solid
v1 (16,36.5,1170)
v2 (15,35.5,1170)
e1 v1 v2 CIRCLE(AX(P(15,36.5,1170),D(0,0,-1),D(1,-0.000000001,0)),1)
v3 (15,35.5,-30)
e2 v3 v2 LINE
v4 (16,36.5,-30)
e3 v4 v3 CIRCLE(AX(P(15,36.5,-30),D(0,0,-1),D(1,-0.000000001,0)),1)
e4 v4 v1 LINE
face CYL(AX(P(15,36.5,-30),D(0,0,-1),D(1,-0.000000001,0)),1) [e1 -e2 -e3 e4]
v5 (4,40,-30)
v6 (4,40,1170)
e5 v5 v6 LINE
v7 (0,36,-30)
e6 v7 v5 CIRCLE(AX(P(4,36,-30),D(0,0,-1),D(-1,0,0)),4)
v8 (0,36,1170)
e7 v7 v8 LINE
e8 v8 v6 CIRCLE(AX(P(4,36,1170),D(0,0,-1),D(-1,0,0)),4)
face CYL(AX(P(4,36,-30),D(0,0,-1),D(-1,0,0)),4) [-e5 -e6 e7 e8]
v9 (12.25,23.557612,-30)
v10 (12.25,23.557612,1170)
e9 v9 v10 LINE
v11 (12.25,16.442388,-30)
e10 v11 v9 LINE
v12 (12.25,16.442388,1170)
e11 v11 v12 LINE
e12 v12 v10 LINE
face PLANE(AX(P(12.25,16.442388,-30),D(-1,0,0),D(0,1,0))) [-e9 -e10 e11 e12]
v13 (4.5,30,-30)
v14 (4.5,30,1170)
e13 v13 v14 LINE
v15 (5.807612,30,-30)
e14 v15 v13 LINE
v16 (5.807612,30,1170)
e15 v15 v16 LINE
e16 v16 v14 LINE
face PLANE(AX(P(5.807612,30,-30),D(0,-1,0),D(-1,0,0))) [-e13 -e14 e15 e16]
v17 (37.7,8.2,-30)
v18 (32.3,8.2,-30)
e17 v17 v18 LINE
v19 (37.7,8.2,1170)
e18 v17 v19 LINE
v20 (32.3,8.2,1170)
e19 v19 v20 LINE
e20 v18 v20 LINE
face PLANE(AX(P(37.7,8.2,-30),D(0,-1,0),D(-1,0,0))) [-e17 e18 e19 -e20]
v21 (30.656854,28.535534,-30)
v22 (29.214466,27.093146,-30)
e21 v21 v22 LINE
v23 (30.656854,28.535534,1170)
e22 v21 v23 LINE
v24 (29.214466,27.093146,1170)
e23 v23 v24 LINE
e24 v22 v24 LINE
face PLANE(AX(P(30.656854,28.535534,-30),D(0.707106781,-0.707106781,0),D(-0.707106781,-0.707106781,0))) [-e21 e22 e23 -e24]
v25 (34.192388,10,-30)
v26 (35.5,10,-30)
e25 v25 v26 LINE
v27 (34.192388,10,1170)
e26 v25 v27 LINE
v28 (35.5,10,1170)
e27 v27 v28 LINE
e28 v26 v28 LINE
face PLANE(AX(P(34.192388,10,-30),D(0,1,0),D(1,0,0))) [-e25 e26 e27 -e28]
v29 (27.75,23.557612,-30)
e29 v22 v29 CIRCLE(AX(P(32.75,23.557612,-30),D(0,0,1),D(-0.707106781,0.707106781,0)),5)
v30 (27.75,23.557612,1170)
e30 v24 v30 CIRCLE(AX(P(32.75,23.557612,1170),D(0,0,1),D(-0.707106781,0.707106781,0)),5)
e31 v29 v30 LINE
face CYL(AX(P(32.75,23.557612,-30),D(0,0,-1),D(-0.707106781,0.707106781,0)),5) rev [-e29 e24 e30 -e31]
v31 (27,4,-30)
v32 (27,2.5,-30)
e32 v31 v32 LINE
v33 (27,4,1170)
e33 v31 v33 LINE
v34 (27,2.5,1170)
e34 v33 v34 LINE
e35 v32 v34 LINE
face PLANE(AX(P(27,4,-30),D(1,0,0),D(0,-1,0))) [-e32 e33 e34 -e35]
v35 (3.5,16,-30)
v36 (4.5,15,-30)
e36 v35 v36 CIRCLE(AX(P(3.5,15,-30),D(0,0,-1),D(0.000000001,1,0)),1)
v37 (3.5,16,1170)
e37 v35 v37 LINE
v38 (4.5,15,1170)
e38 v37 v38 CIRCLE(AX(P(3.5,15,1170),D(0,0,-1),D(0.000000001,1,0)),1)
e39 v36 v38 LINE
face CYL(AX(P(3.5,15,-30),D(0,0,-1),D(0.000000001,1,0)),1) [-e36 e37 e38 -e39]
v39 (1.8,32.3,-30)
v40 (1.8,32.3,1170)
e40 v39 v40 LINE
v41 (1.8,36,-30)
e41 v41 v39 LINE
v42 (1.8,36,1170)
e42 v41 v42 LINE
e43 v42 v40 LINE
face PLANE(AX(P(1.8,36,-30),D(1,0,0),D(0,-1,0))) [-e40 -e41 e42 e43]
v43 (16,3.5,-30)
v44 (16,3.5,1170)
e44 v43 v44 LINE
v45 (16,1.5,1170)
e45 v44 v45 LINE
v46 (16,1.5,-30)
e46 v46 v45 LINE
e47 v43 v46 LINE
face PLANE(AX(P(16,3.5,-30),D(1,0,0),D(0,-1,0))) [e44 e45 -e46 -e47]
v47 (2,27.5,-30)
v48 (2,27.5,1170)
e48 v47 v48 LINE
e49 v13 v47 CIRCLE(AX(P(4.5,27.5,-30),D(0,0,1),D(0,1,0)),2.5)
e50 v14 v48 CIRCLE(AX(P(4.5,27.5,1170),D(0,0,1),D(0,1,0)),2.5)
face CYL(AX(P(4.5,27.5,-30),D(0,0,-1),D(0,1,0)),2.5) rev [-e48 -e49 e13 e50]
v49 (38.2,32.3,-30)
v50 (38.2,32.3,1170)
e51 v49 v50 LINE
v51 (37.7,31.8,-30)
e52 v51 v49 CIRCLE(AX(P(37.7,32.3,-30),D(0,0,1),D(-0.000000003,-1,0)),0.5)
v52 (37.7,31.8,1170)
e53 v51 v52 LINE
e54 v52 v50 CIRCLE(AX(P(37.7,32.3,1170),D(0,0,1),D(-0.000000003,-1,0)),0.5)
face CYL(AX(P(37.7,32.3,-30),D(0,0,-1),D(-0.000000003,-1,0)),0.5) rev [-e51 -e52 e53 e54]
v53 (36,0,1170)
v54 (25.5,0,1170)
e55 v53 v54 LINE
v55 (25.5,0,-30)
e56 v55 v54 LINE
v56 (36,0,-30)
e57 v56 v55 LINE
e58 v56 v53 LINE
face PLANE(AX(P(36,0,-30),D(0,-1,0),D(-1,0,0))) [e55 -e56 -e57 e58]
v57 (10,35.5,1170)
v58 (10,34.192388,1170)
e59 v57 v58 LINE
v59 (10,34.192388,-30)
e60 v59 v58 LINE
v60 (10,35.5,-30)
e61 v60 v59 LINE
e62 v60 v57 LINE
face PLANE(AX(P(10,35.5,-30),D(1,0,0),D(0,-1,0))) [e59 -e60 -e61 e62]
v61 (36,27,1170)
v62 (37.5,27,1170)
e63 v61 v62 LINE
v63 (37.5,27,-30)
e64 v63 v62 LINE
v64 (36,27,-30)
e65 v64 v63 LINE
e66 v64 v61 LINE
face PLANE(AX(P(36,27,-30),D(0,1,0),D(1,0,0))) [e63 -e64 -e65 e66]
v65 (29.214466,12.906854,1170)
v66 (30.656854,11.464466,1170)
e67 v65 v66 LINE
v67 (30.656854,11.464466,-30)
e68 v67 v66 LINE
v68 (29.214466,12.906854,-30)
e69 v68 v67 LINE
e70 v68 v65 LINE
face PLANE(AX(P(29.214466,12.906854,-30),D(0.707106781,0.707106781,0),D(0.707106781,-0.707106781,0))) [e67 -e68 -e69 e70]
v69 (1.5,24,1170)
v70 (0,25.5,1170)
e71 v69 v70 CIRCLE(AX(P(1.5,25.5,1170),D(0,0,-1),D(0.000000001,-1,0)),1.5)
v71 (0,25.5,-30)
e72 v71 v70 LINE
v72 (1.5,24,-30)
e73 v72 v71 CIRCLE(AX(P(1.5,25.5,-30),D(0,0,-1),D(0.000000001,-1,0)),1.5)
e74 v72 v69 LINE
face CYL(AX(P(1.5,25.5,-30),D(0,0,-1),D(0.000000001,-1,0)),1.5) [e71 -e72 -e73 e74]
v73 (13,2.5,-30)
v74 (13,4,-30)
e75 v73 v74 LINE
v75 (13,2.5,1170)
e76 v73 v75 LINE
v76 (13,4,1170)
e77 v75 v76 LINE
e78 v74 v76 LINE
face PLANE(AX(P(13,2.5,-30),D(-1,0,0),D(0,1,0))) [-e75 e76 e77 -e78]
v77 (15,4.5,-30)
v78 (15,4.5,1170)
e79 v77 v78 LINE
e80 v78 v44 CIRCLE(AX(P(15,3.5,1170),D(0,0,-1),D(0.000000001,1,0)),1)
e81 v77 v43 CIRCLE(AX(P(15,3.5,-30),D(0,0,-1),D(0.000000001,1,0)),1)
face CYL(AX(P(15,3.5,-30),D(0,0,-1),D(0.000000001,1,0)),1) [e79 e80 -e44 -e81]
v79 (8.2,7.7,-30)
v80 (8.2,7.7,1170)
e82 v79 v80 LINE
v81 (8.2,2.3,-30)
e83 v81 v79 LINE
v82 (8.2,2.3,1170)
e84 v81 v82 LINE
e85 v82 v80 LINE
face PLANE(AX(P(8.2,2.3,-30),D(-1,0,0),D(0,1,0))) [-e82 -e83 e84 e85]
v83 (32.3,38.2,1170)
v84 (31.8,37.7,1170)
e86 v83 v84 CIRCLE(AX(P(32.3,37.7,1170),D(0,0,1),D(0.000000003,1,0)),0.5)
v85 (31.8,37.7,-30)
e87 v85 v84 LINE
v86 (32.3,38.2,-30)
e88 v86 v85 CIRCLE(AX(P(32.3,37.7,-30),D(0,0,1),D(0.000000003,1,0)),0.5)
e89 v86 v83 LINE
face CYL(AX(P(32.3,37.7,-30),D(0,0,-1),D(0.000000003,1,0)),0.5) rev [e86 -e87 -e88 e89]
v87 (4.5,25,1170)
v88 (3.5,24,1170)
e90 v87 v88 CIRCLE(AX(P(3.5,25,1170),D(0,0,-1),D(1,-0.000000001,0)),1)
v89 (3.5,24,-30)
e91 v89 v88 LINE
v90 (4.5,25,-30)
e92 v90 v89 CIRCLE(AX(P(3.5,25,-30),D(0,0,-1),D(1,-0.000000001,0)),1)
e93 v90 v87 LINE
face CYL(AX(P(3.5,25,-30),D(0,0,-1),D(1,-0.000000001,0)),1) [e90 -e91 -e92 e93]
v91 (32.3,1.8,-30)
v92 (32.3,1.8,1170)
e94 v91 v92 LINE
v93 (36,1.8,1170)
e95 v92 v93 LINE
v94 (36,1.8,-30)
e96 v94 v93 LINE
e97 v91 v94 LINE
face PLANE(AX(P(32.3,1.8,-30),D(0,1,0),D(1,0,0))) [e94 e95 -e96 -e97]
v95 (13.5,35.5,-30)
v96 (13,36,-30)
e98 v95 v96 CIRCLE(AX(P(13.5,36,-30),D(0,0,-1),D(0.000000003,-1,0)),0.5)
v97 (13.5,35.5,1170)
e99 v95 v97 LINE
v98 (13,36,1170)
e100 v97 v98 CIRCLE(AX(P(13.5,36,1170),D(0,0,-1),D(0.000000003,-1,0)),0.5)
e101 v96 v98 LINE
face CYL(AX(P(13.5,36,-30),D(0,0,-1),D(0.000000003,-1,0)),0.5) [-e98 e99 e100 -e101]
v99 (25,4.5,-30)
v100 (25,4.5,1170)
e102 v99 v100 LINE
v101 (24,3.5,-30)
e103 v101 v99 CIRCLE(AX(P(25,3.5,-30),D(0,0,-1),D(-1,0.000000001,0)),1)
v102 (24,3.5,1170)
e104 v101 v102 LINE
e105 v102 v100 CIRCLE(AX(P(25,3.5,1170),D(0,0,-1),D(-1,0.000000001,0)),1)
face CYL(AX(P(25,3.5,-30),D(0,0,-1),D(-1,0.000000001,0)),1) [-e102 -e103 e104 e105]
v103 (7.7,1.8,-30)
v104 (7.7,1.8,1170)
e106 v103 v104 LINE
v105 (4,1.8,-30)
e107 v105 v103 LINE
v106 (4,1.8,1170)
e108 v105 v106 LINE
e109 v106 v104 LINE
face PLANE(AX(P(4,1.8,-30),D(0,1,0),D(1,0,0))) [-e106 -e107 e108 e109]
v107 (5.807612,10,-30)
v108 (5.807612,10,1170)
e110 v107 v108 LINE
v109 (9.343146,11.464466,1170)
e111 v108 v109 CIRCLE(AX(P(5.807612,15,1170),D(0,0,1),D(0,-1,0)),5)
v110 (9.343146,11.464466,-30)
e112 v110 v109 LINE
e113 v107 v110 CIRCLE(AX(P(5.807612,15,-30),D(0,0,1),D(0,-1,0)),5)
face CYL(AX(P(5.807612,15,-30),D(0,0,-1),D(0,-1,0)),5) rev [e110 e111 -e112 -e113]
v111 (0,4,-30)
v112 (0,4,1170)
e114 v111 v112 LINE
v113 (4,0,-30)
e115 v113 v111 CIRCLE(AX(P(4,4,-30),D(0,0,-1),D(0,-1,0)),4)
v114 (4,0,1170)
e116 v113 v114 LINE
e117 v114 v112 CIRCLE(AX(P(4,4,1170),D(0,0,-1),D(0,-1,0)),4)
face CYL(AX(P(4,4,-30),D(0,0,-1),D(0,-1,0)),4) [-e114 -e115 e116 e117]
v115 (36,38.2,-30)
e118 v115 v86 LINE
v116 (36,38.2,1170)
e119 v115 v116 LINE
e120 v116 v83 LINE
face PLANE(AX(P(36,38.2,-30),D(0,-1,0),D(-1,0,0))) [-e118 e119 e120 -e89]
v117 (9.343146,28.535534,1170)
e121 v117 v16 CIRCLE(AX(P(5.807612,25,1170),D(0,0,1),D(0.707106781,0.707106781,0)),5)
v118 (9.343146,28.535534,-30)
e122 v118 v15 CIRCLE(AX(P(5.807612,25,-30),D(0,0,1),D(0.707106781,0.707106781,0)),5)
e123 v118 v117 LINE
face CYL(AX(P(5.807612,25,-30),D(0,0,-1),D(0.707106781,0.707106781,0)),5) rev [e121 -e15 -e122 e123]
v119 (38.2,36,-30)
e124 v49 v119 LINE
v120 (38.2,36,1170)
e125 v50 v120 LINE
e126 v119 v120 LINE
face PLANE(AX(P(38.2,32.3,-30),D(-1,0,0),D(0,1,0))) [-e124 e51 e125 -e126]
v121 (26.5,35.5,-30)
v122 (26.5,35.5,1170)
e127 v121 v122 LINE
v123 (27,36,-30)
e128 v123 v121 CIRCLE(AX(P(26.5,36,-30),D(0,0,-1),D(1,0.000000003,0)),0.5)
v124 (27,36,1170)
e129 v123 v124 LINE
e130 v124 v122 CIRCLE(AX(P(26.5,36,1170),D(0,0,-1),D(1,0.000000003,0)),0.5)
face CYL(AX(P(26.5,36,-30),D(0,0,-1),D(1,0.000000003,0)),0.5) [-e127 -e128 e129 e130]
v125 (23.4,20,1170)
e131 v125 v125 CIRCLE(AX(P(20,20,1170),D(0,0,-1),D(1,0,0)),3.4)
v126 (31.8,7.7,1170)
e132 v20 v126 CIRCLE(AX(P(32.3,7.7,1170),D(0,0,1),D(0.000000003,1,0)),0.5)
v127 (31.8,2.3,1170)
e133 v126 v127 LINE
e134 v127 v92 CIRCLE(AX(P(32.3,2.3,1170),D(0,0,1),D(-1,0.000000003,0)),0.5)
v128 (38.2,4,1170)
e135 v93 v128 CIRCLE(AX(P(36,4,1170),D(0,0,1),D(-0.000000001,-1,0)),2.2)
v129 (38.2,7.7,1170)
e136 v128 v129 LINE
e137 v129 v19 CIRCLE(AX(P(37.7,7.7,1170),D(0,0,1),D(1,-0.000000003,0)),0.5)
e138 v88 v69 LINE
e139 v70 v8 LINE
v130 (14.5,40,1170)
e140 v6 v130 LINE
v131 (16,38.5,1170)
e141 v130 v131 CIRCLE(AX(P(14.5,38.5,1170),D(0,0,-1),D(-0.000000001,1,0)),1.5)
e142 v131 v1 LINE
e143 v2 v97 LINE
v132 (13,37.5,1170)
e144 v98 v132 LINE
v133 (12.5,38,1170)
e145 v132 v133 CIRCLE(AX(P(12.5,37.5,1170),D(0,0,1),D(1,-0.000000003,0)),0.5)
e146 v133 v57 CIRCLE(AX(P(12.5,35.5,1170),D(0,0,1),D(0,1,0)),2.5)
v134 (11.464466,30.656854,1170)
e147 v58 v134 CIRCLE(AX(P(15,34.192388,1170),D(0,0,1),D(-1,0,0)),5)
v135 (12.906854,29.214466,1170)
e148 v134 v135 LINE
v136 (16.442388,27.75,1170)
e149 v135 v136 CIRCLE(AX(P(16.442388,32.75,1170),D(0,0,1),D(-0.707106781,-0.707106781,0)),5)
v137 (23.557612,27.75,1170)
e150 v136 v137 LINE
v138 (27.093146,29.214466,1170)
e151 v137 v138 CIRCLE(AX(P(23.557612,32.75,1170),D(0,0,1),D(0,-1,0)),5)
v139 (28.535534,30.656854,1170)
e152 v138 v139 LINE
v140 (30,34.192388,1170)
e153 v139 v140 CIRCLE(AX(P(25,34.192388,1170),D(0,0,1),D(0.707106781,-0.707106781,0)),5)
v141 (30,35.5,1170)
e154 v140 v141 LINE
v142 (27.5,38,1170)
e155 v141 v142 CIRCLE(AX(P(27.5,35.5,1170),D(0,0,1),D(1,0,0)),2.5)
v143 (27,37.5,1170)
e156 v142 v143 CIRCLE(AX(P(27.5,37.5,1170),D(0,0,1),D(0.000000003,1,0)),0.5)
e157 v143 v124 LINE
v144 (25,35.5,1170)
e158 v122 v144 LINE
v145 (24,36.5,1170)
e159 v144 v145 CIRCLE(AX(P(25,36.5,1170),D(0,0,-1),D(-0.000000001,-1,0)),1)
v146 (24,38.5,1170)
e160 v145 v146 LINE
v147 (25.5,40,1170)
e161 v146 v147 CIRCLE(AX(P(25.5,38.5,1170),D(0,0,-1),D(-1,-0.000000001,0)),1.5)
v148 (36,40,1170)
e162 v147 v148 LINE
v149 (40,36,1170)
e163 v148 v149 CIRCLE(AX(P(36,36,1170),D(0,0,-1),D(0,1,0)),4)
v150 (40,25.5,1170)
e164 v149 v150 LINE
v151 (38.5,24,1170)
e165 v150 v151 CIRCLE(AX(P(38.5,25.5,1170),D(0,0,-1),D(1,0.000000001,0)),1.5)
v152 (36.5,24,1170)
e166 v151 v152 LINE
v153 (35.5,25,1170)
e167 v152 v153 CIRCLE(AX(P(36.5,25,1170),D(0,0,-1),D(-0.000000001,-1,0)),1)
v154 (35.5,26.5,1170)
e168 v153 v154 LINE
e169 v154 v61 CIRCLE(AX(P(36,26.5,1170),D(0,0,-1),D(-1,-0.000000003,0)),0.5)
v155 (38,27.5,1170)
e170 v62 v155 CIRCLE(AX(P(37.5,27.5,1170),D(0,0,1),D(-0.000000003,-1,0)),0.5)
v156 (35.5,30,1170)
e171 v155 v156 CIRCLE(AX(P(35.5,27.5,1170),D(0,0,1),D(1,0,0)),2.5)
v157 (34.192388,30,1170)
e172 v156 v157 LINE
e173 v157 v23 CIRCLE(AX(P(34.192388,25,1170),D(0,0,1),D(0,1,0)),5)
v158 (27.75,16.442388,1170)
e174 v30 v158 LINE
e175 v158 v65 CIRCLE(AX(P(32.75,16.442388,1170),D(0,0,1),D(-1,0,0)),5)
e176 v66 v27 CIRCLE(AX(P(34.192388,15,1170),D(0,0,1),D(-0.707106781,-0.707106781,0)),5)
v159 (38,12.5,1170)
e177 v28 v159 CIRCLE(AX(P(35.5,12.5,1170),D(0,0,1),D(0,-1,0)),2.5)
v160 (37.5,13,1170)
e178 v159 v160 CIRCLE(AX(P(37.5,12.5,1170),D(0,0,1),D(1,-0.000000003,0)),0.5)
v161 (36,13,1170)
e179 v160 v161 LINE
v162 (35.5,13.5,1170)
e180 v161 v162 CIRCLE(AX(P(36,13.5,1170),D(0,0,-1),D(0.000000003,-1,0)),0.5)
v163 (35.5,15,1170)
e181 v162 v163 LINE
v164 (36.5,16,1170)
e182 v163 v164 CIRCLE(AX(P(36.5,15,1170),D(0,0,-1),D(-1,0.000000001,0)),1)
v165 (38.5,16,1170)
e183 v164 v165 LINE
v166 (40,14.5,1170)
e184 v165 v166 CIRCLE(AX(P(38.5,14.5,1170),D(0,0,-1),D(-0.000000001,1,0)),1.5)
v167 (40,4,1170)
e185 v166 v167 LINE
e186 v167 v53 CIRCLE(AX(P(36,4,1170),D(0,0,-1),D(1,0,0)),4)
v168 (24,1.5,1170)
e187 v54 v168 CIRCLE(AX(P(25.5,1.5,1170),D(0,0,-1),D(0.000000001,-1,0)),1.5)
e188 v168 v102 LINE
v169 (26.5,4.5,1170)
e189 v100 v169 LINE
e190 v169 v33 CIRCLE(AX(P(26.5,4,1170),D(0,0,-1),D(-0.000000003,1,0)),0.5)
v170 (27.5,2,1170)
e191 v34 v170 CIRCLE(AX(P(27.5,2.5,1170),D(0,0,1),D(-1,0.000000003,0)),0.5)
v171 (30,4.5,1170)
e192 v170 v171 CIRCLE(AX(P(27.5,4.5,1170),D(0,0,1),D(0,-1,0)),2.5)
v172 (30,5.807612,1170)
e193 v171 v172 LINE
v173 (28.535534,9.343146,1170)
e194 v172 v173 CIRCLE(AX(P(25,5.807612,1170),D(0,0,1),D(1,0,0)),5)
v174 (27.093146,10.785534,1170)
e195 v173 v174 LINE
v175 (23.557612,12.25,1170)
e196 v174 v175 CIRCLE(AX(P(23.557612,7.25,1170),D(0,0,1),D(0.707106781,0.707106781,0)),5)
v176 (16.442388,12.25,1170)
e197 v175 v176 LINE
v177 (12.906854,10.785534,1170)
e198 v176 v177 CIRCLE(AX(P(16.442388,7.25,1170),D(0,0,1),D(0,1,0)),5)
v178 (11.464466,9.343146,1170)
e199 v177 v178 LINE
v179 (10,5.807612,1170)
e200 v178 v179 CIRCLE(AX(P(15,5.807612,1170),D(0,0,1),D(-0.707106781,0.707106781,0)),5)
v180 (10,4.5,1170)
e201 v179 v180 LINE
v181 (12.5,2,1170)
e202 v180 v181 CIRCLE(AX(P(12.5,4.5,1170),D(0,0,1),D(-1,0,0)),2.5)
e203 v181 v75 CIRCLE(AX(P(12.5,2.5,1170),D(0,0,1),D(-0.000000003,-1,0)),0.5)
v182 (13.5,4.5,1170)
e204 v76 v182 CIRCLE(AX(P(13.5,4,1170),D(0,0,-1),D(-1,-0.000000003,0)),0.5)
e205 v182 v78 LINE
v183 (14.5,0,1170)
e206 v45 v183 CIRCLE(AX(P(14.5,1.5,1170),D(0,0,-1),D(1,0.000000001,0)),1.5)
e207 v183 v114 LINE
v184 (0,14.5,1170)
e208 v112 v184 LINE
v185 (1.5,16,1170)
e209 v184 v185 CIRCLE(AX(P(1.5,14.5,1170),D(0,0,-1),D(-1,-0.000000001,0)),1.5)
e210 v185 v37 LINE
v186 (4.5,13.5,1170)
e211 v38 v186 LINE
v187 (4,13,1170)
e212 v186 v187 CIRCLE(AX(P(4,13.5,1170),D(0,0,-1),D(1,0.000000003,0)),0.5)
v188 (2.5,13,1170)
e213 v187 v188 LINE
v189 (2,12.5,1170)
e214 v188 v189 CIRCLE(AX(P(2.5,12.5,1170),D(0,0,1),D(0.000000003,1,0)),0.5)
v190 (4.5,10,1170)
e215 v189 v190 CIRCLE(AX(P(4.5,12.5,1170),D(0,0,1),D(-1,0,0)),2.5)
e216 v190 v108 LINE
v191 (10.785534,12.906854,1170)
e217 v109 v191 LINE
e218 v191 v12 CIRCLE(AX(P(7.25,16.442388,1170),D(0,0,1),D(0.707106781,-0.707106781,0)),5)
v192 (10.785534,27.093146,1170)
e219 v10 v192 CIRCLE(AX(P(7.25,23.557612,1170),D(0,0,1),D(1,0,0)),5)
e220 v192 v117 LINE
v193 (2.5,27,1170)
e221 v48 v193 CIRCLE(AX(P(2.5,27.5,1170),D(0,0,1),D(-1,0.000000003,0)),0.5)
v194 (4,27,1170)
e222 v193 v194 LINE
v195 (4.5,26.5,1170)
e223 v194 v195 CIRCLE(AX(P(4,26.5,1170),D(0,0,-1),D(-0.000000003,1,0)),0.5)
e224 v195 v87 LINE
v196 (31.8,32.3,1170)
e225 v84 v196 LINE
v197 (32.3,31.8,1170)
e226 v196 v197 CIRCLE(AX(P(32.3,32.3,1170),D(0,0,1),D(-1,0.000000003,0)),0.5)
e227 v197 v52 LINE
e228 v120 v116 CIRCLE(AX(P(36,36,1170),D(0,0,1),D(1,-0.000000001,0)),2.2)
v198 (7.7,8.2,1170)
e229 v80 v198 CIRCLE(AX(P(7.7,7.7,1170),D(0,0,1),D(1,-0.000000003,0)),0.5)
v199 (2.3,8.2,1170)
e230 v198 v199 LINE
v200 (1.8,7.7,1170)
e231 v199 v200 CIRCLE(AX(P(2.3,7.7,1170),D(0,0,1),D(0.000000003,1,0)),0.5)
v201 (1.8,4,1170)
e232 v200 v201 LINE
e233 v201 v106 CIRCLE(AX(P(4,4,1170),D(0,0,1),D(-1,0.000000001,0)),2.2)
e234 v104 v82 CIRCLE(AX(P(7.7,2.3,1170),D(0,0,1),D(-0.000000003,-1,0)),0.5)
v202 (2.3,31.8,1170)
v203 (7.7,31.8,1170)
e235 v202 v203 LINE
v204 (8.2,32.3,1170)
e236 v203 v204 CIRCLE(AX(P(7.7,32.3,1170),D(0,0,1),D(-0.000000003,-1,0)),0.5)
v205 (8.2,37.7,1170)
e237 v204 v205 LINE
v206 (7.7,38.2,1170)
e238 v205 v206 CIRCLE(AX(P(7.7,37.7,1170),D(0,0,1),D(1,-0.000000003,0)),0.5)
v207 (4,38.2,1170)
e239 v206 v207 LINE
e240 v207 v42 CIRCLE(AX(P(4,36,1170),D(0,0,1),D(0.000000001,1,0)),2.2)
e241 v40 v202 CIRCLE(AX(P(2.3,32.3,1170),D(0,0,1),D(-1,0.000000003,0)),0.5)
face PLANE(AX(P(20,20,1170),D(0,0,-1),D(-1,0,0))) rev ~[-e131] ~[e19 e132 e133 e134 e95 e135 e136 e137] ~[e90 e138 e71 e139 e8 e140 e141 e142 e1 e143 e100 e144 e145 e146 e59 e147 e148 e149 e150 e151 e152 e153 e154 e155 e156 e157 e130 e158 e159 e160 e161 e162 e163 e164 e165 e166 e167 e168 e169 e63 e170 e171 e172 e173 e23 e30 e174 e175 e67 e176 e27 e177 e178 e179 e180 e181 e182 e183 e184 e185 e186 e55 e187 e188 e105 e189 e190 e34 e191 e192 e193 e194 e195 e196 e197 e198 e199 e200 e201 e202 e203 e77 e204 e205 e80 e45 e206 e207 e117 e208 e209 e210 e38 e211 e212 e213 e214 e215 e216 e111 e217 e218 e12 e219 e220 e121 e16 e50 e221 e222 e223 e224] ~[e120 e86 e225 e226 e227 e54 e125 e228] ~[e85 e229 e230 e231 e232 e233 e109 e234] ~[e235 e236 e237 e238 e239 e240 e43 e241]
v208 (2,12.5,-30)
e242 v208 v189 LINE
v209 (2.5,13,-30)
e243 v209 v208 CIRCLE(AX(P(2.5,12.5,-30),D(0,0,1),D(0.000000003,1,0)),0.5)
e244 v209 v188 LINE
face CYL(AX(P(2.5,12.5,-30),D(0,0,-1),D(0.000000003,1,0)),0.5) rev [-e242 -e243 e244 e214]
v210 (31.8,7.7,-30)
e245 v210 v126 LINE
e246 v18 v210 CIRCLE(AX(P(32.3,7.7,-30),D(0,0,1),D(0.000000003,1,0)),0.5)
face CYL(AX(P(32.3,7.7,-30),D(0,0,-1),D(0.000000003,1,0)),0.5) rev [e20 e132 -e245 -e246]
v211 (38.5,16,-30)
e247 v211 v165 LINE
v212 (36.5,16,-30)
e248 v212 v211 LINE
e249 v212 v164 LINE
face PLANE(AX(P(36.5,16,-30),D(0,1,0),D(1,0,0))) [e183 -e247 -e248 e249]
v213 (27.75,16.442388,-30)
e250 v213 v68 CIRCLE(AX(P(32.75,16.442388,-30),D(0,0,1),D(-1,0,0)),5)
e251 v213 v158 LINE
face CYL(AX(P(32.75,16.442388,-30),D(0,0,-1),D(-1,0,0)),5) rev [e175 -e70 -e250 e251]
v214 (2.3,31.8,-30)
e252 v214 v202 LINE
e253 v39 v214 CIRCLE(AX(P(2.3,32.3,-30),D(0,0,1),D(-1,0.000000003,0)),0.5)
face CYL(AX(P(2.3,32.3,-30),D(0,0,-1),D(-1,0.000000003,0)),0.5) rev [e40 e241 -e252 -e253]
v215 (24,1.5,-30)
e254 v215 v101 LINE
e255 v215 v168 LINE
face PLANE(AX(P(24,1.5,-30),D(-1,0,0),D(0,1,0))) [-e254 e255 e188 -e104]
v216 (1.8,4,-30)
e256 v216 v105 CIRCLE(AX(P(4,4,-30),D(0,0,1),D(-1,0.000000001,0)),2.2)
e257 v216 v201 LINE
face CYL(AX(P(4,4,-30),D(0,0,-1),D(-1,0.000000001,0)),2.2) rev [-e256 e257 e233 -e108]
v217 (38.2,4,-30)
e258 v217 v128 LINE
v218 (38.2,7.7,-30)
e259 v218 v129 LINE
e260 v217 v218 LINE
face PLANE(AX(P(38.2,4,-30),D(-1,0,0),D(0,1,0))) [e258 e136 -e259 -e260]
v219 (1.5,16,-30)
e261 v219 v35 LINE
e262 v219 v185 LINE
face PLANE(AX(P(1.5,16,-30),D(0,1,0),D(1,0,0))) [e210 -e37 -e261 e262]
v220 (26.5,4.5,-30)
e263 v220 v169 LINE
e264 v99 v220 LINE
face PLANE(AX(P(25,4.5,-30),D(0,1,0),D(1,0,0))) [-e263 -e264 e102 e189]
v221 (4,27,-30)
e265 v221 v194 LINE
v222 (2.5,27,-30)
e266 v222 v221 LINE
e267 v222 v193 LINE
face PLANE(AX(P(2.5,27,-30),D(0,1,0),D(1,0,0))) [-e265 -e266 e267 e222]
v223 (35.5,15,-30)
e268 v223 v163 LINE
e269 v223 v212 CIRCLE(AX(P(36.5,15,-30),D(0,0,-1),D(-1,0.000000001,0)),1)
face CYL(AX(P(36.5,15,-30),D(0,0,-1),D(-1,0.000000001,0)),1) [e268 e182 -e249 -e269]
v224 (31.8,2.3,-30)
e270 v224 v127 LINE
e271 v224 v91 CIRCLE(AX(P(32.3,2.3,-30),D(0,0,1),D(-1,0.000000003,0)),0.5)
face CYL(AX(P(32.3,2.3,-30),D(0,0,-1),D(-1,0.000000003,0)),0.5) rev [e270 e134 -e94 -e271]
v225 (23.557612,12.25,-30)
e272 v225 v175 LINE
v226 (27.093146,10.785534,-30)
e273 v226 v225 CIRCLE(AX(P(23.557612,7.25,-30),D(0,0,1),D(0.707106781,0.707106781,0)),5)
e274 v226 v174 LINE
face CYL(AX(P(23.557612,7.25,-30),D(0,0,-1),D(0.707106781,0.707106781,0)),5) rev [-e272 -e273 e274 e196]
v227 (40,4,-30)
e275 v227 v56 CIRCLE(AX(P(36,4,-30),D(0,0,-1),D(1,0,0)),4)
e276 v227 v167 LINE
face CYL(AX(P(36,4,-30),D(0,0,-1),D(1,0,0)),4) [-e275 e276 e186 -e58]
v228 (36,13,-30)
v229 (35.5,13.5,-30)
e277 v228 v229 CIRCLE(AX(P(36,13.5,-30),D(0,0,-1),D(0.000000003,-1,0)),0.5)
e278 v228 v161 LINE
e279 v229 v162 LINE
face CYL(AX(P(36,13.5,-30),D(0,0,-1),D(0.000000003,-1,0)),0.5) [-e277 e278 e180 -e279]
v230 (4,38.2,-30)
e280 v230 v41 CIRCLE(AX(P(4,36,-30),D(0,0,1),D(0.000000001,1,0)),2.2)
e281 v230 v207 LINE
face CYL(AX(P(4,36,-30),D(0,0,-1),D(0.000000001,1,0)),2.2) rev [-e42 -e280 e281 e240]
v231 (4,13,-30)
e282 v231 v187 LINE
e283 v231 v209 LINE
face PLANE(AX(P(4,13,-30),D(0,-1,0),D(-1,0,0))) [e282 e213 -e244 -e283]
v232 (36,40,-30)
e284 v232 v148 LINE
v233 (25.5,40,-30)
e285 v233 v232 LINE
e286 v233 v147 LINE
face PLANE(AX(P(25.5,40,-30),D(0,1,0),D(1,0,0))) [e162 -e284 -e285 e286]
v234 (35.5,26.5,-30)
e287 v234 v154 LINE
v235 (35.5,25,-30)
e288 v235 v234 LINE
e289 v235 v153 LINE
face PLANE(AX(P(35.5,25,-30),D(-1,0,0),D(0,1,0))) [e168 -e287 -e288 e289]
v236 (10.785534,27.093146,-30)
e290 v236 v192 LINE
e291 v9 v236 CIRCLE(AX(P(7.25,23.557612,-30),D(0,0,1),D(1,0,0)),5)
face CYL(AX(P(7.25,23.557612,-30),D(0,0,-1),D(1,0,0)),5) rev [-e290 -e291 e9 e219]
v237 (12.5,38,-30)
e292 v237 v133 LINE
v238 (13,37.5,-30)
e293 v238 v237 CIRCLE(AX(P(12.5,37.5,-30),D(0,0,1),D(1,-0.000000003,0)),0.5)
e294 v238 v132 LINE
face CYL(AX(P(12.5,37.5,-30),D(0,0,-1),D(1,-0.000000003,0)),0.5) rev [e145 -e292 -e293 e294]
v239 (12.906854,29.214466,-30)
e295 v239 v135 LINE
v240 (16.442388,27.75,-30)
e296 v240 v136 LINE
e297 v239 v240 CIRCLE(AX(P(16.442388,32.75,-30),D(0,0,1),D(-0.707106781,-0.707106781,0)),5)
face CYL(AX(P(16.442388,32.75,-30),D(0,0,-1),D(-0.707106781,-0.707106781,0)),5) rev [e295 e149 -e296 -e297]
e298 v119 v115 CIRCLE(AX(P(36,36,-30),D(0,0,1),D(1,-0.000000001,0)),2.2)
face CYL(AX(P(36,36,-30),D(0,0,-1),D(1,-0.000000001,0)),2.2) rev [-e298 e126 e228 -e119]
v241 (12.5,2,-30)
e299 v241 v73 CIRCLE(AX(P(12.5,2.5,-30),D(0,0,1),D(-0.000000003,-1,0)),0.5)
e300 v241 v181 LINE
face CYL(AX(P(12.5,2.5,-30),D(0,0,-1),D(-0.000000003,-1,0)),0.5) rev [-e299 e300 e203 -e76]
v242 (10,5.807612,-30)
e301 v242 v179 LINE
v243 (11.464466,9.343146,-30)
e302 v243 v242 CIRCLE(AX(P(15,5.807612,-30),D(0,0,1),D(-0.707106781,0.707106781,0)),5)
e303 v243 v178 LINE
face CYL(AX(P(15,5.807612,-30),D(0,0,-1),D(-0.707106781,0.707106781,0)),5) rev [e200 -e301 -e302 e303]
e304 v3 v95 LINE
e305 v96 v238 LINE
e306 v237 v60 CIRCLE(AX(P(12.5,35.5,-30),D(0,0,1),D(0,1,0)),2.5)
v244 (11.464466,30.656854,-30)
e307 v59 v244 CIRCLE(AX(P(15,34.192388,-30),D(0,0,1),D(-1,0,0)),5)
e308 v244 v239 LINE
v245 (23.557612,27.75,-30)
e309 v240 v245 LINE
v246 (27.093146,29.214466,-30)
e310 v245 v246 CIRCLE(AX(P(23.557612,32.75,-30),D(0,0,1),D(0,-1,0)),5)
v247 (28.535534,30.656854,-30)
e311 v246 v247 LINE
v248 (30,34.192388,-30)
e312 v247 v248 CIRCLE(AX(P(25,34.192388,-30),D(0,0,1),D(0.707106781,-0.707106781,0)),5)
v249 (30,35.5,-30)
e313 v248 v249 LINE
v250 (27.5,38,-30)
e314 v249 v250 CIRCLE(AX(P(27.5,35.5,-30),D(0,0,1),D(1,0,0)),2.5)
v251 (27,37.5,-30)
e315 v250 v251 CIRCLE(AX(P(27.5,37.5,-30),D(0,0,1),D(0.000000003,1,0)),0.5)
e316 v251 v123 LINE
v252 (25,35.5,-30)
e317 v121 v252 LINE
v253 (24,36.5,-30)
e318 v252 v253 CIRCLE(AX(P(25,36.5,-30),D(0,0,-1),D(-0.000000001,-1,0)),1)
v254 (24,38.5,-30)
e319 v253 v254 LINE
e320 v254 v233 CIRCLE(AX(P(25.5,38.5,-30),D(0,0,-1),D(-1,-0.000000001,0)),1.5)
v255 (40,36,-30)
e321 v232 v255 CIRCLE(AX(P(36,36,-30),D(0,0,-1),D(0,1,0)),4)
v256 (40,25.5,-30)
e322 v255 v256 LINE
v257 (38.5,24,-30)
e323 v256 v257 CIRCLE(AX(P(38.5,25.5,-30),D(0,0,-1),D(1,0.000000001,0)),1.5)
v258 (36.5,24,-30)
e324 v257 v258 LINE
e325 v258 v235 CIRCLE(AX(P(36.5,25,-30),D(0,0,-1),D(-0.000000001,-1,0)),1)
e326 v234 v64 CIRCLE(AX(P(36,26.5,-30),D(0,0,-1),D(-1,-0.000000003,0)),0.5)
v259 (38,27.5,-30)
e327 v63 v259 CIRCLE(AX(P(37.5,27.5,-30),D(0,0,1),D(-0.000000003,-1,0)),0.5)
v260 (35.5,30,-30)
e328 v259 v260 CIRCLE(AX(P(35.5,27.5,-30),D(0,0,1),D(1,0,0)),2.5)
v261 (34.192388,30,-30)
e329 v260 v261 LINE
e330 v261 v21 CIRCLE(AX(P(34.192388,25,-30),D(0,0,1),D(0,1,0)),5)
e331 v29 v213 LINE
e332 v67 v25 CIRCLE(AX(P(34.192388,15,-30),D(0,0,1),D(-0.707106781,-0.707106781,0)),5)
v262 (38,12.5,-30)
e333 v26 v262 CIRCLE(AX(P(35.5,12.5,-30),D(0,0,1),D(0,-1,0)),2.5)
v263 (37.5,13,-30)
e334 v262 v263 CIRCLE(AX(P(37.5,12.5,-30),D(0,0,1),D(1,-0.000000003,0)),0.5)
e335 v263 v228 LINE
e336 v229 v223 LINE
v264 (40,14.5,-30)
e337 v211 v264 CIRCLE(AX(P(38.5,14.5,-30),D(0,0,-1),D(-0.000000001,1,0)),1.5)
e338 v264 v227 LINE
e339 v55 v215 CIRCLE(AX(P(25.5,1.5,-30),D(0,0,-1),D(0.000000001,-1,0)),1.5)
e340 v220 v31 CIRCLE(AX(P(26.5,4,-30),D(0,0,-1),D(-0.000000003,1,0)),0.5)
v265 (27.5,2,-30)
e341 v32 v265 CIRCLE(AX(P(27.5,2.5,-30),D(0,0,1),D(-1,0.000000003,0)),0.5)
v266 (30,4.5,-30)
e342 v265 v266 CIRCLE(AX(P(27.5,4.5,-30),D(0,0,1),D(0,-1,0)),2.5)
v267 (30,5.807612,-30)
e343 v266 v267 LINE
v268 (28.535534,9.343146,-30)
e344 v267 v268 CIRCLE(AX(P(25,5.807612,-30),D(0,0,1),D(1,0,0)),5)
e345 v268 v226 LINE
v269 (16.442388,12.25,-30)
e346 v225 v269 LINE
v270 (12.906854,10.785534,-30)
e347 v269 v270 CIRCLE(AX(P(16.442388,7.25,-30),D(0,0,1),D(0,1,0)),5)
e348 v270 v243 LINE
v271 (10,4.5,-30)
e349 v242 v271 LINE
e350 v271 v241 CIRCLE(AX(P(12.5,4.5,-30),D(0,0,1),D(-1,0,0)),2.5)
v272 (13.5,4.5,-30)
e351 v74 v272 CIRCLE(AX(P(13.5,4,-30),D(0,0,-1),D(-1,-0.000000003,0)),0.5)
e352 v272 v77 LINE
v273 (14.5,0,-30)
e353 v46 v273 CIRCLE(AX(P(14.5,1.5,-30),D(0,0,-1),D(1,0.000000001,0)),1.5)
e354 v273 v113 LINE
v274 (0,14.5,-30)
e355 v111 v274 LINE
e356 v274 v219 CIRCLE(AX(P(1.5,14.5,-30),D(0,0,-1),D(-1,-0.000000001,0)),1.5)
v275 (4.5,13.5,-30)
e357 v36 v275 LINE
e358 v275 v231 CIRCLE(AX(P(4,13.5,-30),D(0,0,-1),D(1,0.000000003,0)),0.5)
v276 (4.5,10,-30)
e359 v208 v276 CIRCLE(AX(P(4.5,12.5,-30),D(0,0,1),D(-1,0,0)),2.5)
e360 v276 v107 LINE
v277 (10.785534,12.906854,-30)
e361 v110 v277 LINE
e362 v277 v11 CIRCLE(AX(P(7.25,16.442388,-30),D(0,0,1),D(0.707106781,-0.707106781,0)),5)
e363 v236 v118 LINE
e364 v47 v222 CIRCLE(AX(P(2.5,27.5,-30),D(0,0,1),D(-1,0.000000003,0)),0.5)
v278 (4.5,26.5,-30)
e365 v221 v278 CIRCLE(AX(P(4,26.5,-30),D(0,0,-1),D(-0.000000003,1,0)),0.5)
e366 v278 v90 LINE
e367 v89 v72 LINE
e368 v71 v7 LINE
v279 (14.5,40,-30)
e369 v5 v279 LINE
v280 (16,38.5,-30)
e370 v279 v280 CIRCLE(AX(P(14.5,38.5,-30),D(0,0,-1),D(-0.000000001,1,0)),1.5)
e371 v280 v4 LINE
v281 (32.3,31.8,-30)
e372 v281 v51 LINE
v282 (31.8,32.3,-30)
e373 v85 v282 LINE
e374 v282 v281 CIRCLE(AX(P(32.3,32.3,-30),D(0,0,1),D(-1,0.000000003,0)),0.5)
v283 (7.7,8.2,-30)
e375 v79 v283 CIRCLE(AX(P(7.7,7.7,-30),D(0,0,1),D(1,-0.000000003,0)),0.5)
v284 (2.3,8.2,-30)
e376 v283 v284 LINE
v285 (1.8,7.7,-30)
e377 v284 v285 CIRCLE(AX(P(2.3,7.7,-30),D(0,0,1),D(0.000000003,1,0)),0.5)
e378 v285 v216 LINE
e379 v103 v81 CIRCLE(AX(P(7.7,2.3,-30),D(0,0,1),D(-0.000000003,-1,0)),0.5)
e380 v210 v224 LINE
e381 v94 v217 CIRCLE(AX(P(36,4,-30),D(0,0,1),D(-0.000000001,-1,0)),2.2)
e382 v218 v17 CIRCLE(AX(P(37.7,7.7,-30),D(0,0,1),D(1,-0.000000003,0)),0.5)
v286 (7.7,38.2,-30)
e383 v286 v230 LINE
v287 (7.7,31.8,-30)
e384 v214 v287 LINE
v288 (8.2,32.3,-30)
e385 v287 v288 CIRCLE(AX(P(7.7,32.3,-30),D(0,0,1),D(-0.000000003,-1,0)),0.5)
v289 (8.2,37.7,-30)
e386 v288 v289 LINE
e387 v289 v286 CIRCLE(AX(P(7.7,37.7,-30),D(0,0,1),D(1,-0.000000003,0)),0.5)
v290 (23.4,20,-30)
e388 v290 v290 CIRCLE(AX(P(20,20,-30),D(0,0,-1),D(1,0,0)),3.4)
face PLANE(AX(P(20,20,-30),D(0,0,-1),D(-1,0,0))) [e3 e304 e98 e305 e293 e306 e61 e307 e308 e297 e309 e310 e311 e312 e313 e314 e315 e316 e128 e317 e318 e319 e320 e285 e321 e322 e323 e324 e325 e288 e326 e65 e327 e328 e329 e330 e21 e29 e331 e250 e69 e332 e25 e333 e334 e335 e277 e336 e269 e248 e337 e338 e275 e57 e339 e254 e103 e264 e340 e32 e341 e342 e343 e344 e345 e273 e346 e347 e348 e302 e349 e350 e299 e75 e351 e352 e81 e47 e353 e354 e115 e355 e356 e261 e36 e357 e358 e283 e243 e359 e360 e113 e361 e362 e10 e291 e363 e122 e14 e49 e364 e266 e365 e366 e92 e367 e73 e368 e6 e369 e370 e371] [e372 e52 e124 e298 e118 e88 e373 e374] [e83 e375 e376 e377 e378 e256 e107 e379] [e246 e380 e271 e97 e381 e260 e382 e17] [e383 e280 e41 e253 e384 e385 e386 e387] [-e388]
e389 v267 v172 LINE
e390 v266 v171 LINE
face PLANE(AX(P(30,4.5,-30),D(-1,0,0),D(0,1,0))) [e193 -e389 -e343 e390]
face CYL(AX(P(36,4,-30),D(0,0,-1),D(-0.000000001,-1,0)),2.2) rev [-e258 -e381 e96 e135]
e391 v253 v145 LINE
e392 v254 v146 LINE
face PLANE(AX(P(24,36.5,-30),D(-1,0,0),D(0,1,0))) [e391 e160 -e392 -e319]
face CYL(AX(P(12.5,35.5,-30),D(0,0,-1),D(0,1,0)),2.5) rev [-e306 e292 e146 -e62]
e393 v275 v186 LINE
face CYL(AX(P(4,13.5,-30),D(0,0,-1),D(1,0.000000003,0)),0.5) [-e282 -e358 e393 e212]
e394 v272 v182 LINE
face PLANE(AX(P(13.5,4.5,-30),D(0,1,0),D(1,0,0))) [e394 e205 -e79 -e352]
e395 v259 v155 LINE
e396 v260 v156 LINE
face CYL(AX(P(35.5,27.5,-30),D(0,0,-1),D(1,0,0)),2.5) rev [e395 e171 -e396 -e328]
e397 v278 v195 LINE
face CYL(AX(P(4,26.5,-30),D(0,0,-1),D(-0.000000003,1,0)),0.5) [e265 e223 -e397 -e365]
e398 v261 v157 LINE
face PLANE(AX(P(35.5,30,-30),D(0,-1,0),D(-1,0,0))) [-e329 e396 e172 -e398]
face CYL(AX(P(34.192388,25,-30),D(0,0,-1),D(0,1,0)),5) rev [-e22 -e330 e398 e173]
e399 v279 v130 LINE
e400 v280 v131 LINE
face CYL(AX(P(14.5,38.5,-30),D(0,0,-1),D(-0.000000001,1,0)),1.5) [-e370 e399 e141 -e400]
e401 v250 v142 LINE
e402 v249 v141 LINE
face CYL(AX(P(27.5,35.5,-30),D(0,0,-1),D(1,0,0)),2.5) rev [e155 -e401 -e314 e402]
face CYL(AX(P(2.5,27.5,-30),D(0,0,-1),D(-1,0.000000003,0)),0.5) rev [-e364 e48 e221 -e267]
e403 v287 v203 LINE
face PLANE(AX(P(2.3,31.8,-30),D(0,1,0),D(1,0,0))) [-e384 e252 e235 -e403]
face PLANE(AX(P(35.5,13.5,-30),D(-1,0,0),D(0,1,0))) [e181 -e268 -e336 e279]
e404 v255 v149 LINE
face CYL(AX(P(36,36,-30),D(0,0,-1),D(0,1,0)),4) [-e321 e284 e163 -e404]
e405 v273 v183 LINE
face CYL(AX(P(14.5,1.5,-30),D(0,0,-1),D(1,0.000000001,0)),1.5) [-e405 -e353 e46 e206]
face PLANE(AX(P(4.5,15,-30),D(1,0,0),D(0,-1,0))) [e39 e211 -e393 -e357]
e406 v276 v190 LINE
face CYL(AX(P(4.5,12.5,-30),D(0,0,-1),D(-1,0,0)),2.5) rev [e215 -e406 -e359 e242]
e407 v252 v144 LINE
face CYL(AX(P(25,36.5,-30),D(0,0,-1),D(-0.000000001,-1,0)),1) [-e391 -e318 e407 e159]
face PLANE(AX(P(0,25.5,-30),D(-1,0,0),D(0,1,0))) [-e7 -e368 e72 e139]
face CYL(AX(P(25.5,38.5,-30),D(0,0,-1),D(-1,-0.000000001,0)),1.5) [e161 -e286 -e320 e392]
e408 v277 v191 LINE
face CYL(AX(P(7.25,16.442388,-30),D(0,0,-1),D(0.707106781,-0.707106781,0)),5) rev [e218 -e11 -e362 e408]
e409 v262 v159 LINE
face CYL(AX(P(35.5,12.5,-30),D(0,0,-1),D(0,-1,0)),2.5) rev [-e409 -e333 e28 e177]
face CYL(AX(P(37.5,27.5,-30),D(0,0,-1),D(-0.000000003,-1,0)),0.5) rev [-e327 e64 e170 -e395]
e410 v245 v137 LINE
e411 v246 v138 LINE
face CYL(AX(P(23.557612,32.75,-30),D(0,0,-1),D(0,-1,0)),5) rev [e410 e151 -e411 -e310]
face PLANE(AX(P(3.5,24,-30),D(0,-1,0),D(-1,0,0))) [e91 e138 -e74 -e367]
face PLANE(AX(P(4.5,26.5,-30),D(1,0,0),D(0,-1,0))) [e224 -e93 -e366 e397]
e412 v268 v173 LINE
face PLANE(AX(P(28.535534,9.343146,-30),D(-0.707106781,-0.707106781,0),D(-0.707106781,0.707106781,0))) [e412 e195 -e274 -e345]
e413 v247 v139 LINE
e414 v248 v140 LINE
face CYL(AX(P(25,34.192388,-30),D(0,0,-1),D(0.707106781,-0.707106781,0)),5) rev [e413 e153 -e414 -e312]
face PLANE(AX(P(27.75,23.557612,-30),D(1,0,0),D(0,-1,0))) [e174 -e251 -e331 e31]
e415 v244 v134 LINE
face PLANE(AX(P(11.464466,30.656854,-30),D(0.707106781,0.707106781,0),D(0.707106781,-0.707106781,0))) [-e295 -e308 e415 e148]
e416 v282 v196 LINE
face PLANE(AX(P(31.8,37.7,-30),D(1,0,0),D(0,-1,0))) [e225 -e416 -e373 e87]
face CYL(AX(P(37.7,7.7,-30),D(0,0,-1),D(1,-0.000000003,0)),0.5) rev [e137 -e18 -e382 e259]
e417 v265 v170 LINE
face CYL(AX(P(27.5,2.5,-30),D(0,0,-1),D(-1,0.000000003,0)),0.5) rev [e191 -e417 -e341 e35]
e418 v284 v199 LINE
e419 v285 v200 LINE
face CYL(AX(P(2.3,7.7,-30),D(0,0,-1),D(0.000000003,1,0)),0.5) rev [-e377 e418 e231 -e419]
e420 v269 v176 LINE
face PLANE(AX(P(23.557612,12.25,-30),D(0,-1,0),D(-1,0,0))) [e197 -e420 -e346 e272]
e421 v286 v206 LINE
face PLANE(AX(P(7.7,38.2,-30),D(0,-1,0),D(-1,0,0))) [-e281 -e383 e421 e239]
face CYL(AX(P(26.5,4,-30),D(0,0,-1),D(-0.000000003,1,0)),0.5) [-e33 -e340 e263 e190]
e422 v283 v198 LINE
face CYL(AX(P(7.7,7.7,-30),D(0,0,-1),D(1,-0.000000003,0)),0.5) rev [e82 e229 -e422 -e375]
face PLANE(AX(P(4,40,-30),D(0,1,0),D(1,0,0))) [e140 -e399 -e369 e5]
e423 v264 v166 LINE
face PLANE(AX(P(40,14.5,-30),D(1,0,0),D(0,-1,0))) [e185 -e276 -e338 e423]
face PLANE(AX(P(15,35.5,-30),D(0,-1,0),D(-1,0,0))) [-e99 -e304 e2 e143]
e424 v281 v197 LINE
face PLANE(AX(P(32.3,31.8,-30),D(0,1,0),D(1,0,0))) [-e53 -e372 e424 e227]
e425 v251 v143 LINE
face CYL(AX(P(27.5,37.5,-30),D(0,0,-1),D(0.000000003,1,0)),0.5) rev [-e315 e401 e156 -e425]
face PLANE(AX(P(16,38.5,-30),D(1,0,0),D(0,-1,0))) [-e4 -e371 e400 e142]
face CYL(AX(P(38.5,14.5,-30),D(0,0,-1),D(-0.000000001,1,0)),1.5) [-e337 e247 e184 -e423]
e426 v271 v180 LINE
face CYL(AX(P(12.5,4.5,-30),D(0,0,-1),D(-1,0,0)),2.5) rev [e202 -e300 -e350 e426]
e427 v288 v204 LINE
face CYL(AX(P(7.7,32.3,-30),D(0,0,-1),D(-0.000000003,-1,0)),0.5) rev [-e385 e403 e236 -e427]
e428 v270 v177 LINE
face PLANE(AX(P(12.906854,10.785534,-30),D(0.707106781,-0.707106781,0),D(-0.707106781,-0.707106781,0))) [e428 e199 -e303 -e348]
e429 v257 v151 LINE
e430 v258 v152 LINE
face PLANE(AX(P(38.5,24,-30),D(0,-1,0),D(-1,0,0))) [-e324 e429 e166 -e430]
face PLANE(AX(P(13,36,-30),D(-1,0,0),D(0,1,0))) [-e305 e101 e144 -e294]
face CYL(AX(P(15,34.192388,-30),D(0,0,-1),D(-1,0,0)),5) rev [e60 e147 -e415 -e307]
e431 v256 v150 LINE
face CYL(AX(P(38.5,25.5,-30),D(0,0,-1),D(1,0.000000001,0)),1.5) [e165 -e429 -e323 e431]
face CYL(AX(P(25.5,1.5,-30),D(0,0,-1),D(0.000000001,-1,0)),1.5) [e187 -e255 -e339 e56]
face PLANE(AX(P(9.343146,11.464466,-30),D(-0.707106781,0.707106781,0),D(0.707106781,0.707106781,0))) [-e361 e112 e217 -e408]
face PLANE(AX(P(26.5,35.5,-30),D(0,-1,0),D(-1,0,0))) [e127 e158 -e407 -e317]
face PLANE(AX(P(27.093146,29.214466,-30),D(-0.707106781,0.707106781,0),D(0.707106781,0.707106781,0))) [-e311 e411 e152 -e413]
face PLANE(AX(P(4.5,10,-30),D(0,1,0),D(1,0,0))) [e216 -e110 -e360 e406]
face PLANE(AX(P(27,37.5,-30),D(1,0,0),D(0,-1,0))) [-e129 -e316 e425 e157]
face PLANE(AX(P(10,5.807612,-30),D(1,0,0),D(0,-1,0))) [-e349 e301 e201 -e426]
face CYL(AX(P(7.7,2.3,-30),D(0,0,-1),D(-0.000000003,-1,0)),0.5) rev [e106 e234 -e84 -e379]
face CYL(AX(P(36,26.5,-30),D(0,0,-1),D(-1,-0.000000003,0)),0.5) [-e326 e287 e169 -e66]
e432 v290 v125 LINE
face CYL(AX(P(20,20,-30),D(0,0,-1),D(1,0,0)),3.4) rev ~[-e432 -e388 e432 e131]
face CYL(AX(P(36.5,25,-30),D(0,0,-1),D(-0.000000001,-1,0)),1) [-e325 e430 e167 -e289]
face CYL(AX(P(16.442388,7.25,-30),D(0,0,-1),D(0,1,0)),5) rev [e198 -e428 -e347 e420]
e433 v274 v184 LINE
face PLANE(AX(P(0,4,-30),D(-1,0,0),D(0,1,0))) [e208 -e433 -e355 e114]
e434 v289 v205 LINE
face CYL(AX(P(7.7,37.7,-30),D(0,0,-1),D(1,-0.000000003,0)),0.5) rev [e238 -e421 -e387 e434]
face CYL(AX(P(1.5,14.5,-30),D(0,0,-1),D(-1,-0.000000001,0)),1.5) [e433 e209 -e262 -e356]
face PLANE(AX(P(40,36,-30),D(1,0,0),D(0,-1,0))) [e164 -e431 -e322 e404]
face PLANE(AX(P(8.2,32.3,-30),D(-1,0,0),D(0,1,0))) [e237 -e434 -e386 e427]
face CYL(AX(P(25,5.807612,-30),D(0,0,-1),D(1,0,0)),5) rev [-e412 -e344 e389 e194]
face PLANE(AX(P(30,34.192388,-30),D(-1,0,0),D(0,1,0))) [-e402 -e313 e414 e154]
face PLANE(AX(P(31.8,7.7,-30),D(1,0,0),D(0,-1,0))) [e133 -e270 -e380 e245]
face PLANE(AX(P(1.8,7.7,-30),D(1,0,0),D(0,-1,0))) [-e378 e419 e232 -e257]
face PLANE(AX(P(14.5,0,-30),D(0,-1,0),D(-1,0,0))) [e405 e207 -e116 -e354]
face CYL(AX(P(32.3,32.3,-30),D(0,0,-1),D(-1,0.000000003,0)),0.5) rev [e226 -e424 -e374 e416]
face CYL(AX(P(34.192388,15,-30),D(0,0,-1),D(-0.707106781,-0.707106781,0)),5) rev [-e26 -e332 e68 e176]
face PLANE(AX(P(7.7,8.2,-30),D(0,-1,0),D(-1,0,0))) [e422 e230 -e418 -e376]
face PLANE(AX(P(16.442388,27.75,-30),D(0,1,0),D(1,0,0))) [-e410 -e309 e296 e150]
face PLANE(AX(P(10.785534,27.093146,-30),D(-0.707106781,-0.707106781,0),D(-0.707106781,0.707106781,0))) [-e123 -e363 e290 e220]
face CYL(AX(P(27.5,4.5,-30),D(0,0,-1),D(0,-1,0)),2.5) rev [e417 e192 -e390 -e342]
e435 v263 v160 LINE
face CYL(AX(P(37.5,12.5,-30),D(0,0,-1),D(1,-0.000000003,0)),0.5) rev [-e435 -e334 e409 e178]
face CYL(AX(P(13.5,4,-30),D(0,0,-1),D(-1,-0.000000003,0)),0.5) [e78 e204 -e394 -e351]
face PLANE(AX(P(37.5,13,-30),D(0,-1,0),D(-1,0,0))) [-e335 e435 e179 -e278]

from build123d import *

# Parameters (mm, degrees)
ESQUISSE1_R        = 3.4
BOSS_EXTRU_1_DEPTH = 1200


with BuildPart() as part:
    # Esquisse1 → Boss.-Extru.1 (new body)
    with BuildSketch(Plane(origin=(0, 0, -30), x_dir=(-1, 0, 0), z_dir=(0, 0, -1))):
        with BuildLine():
            Line((-4.5, 15), (-4.5, 13.5))
            ThreePointArc((-4.5, 13.5), (-4.353553391, 13.146446609), (-4, 13))
            Line((-4, 13), (-2.5, 13))
            ThreePointArc((-2.5, 13), (-2.146446609, 12.853553391), (-2, 12.5))
            ThreePointArc((-2, 12.5), (-2.732233047, 10.732233047), (-4.5, 10))
            Line((-4.5, 10), (-5.807611845, 10))
            ThreePointArc((-5.807611845, 10), (-7.721029006, 10.380602337), (-9.343145751, 11.464466094))
            Line((-9.343145751, 11.464466094), (-10.785533906, 12.906854249))
            ThreePointArc((-10.785533906, 12.906854249), (-11.869397663, 14.528970994), (-12.25, 16.442388155))
            Line((-12.25, 16.442388155), (-12.25, 23.557611845))
            ThreePointArc((-12.25, 23.557611845), (-11.869397663, 25.471029006), (-10.785533906, 27.093145751))
            Line((-10.785533906, 27.093145751), (-9.343145751, 28.535533906))
            ThreePointArc((-9.343145751, 28.535533906), (-7.721029006, 29.619397663), (-5.807611845, 30))
            Line((-5.807611845, 30), (-4.5, 30))
            ThreePointArc((-4.5, 30), (-2.732233047, 29.267766953), (-2, 27.5))
            ThreePointArc((-2, 27.5), (-2.146446609, 27.146446609), (-2.5, 27))
            Line((-2.5, 27), (-4, 27))
            ThreePointArc((-4, 27), (-4.353553391, 26.853553391), (-4.5, 26.5))
            Line((-4.5, 26.5), (-4.5, 25))
            ThreePointArc((-4.5, 25), (-4.207106781, 24.292893219), (-3.5, 24))
            Line((-3.5, 24), (-1.5, 24))
            ThreePointArc((-1.5, 24), (-0.439339828, 24.439339828), (0, 25.5))
            Line((0, 25.5), (0, 36))
            ThreePointArc((0, 36), (-1.171572875, 38.828427125), (-4, 40))
            Line((-4, 40), (-14.5, 40))
            ThreePointArc((-14.5, 40), (-15.560660172, 39.560660172), (-16, 38.5))
            Line((-16, 38.5), (-16, 36.5))
            ThreePointArc((-16, 36.5), (-15.707106781, 35.792893219), (-15, 35.5))
            Line((-15, 35.5), (-13.5, 35.5))
            ThreePointArc((-13.5, 35.5), (-13.146446609, 35.646446609), (-13, 36))
            Line((-13, 36), (-13, 37.5))
            ThreePointArc((-13, 37.5), (-12.853553391, 37.853553391), (-12.5, 38))
            ThreePointArc((-12.5, 38), (-10.732233047, 37.267766953), (-10, 35.5))
            Line((-10, 35.5), (-10, 34.192388155))
            ThreePointArc((-10, 34.192388155), (-10.380602337, 32.278970994), (-11.464466094, 30.656854249))
            Line((-11.464466094, 30.656854249), (-12.906854249, 29.214466094))
            ThreePointArc((-12.906854249, 29.214466094), (-14.528970994, 28.130602337), (-16.442388155, 27.75))
            Line((-16.442388155, 27.75), (-23.557611845, 27.75))
            ThreePointArc((-23.557611845, 27.75), (-25.471029006, 28.130602337), (-27.093145751, 29.214466094))
            Line((-27.093145751, 29.214466094), (-28.535533906, 30.656854249))
            ThreePointArc((-28.535533906, 30.656854249), (-29.619397663, 32.278970994), (-30, 34.192388155))
            Line((-30, 34.192388155), (-30, 35.5))
            ThreePointArc((-30, 35.5), (-29.267766953, 37.267766953), (-27.5, 38))
            ThreePointArc((-27.5, 38), (-27.146446609, 37.853553391), (-27, 37.5))
            Line((-27, 37.5), (-27, 36))
            ThreePointArc((-27, 36), (-26.853553391, 35.646446609), (-26.5, 35.5))
            Line((-26.5, 35.5), (-25, 35.5))
            ThreePointArc((-25, 35.5), (-24.292893219, 35.792893219), (-24, 36.5))
            Line((-24, 36.5), (-24, 38.5))
            ThreePointArc((-24, 38.5), (-24.439339828, 39.560660172), (-25.5, 40))
            Line((-25.5, 40), (-36, 40))
            ThreePointArc((-36, 40), (-38.828427125, 38.828427125), (-40, 36))
            Line((-40, 36), (-40, 25.5))
            ThreePointArc((-40, 25.5), (-39.560660172, 24.439339828), (-38.5, 24))
            Line((-38.5, 24), (-36.5, 24))
            ThreePointArc((-36.5, 24), (-35.792893219, 24.292893219), (-35.5, 25))
            Line((-35.5, 25), (-35.5, 26.5))
            ThreePointArc((-35.5, 26.5), (-35.646446609, 26.853553391), (-36, 27))
            Line((-36, 27), (-37.5, 27))
            ThreePointArc((-37.5, 27), (-37.853553391, 27.146446609), (-38, 27.5))
            ThreePointArc((-38, 27.5), (-37.267766953, 29.267766953), (-35.5, 30))
            Line((-35.5, 30), (-34.192388155, 30))
            ThreePointArc((-34.192388155, 30), (-32.278970994, 29.619397663), (-30.656854249, 28.535533906))
            Line((-30.656854249, 28.535533906), (-29.214466094, 27.093145751))
            ThreePointArc((-29.214466094, 27.093145751), (-28.130602337, 25.471029006), (-27.75, 23.557611845))
            Line((-27.75, 23.557611845), (-27.75, 16.442388155))
            ThreePointArc((-27.75, 16.442388155), (-28.130602337, 14.528970994), (-29.214466094, 12.906854249))
            Line((-29.214466094, 12.906854249), (-30.656854249, 11.464466094))
            ThreePointArc((-30.656854249, 11.464466094), (-32.278970994, 10.380602337), (-34.192388155, 10))
            Line((-34.192388155, 10), (-35.5, 10))
            ThreePointArc((-35.5, 10), (-37.267766953, 10.732233047), (-38, 12.5))
            ThreePointArc((-38, 12.5), (-37.853553391, 12.853553391), (-37.5, 13))
            Line((-37.5, 13), (-36, 13))
            ThreePointArc((-36, 13), (-35.646446609, 13.146446609), (-35.5, 13.5))
            Line((-35.5, 13.5), (-35.5, 15))
            ThreePointArc((-35.5, 15), (-35.792893219, 15.707106781), (-36.5, 16))
            Line((-36.5, 16), (-38.5, 16))
            ThreePointArc((-38.5, 16), (-39.560660172, 15.560660172), (-40, 14.5))
            Line((-40, 14.5), (-40, 4))
            ThreePointArc((-40, 4), (-38.828427125, 1.171572875), (-36, 0))
            Line((-36, 0), (-25.5, 0))
            ThreePointArc((-25.5, 0), (-24.439339828, 0.439339828), (-24, 1.5))
            Line((-24, 1.5), (-24, 3.5))
            ThreePointArc((-24, 3.5), (-24.292893219, 4.207106781), (-25, 4.5))
            Line((-25, 4.5), (-26.5, 4.5))
            ThreePointArc((-26.5, 4.5), (-26.853553391, 4.353553391), (-27, 4))
            Line((-27, 4), (-27, 2.5))
            ThreePointArc((-27, 2.5), (-27.146446609, 2.146446609), (-27.5, 2))
            ThreePointArc((-27.5, 2), (-29.267766953, 2.732233047), (-30, 4.5))
            Line((-30, 4.5), (-30, 5.807611845))
            ThreePointArc((-30, 5.807611845), (-29.619397663, 7.721029006), (-28.535533906, 9.343145751))
            Line((-28.535533906, 9.343145751), (-27.093145751, 10.785533906))
            ThreePointArc((-27.093145751, 10.785533906), (-25.471029006, 11.869397663), (-23.557611845, 12.25))
            Line((-23.557611845, 12.25), (-16.442388155, 12.25))
            ThreePointArc((-16.442388155, 12.25), (-14.528970994, 11.869397663), (-12.906854249, 10.785533906))
            Line((-12.906854249, 10.785533906), (-11.464466094, 9.343145751))
            ThreePointArc((-11.464466094, 9.343145751), (-10.380602337, 7.721029006), (-10, 5.807611845))
            Line((-10, 5.807611845), (-10, 4.5))
            ThreePointArc((-10, 4.5), (-10.732233047, 2.732233047), (-12.5, 2))
            ThreePointArc((-12.5, 2), (-12.853553391, 2.146446609), (-13, 2.5))
            Line((-13, 2.5), (-13, 4))
            ThreePointArc((-13, 4), (-13.146446609, 4.353553391), (-13.5, 4.5))
            Line((-13.5, 4.5), (-15, 4.5))
            ThreePointArc((-15, 4.5), (-15.707106781, 4.207106781), (-16, 3.5))
            Line((-16, 3.5), (-16, 1.5))
            ThreePointArc((-16, 1.5), (-15.560660172, 0.439339828), (-14.5, 0))
            Line((-14.5, 0), (-4, 0))
            ThreePointArc((-4, 0), (-1.171572875, 1.171572875), (0, 4))
            Line((0, 4), (0, 14.5))
            ThreePointArc((0, 14.5), (-0.439339828, 15.560660172), (-1.5, 16))
            Line((-1.5, 16), (-3.5, 16))
            ThreePointArc((-3.5, 16), (-4.207106781, 15.707106781), (-4.5, 15))
        make_face()
        with Locations(Location((-20, 20, 0), (0, 0, 180))):
            Circle(ESQUISSE1_R, mode=Mode.SUBTRACT)
        with BuildLine():
            Line((-4, 1.8), (-7.7, 1.8))
            ThreePointArc((-7.7, 1.8), (-8.053553391, 1.946446609), (-8.2, 2.3))
            Line((-8.2, 2.3), (-8.2, 7.7))
            ThreePointArc((-8.2, 7.7), (-8.053553391, 8.053553391), (-7.7, 8.2))
            Line((-7.7, 8.2), (-2.3, 8.2))
            ThreePointArc((-2.3, 8.2), (-1.946446609, 8.053553391), (-1.8, 7.7))
            Line((-1.8, 7.7), (-1.8, 4))
            ThreePointArc((-1.8, 4), (-2.444365081, 2.444365081), (-4, 1.8))
        make_face(mode=Mode.SUBTRACT)
        with BuildLine():
            Line((-38.2, 4), (-38.2, 7.7))
            ThreePointArc((-38.2, 7.7), (-38.053553391, 8.053553391), (-37.7, 8.2))
            Line((-37.7, 8.2), (-32.3, 8.2))
            ThreePointArc((-32.3, 8.2), (-31.946446609, 8.053553391), (-31.8, 7.7))
            Line((-31.8, 7.7), (-31.8, 2.3))
            ThreePointArc((-31.8, 2.3), (-31.946446609, 1.946446609), (-32.3, 1.8))
            Line((-32.3, 1.8), (-36, 1.8))
            ThreePointArc((-36, 1.8), (-37.555634919, 2.444365081), (-38.2, 4))
        make_face(mode=Mode.SUBTRACT)
        with BuildLine():
            Line((-36, 38.2), (-32.3, 38.2))
            ThreePointArc((-32.3, 38.2), (-31.946446609, 38.053553391), (-31.8, 37.7))
            Line((-31.8, 37.7), (-31.8, 32.3))
            ThreePointArc((-31.8, 32.3), (-31.946446609, 31.946446609), (-32.3, 31.8))
            Line((-32.3, 31.8), (-37.7, 31.8))
            ThreePointArc((-37.7, 31.8), (-38.053553391, 31.946446609), (-38.2, 32.3))
            Line((-38.2, 32.3), (-38.2, 36))
            ThreePointArc((-38.2, 36), (-37.555634919, 37.555634919), (-36, 38.2))
        make_face(mode=Mode.SUBTRACT)
        with BuildLine():
            Line((-1.8, 36), (-1.8, 32.3))
            ThreePointArc((-1.8, 32.3), (-1.946446609, 31.946446609), (-2.3, 31.8))
            Line((-2.3, 31.8), (-7.7, 31.8))
            ThreePointArc((-7.7, 31.8), (-8.053553391, 31.946446609), (-8.2, 32.3))
            Line((-8.2, 32.3), (-8.2, 37.7))
            ThreePointArc((-8.2, 37.7), (-8.053553391, 38.053553391), (-7.7, 38.2))
            Line((-7.7, 38.2), (-4, 38.2))
            ThreePointArc((-4, 38.2), (-2.444365081, 37.555634919), (-1.8, 36))
        make_face(mode=Mode.SUBTRACT)
    extrude(amount=-BOSS_EXTRU_1_DEPTH)


solid = part.part
